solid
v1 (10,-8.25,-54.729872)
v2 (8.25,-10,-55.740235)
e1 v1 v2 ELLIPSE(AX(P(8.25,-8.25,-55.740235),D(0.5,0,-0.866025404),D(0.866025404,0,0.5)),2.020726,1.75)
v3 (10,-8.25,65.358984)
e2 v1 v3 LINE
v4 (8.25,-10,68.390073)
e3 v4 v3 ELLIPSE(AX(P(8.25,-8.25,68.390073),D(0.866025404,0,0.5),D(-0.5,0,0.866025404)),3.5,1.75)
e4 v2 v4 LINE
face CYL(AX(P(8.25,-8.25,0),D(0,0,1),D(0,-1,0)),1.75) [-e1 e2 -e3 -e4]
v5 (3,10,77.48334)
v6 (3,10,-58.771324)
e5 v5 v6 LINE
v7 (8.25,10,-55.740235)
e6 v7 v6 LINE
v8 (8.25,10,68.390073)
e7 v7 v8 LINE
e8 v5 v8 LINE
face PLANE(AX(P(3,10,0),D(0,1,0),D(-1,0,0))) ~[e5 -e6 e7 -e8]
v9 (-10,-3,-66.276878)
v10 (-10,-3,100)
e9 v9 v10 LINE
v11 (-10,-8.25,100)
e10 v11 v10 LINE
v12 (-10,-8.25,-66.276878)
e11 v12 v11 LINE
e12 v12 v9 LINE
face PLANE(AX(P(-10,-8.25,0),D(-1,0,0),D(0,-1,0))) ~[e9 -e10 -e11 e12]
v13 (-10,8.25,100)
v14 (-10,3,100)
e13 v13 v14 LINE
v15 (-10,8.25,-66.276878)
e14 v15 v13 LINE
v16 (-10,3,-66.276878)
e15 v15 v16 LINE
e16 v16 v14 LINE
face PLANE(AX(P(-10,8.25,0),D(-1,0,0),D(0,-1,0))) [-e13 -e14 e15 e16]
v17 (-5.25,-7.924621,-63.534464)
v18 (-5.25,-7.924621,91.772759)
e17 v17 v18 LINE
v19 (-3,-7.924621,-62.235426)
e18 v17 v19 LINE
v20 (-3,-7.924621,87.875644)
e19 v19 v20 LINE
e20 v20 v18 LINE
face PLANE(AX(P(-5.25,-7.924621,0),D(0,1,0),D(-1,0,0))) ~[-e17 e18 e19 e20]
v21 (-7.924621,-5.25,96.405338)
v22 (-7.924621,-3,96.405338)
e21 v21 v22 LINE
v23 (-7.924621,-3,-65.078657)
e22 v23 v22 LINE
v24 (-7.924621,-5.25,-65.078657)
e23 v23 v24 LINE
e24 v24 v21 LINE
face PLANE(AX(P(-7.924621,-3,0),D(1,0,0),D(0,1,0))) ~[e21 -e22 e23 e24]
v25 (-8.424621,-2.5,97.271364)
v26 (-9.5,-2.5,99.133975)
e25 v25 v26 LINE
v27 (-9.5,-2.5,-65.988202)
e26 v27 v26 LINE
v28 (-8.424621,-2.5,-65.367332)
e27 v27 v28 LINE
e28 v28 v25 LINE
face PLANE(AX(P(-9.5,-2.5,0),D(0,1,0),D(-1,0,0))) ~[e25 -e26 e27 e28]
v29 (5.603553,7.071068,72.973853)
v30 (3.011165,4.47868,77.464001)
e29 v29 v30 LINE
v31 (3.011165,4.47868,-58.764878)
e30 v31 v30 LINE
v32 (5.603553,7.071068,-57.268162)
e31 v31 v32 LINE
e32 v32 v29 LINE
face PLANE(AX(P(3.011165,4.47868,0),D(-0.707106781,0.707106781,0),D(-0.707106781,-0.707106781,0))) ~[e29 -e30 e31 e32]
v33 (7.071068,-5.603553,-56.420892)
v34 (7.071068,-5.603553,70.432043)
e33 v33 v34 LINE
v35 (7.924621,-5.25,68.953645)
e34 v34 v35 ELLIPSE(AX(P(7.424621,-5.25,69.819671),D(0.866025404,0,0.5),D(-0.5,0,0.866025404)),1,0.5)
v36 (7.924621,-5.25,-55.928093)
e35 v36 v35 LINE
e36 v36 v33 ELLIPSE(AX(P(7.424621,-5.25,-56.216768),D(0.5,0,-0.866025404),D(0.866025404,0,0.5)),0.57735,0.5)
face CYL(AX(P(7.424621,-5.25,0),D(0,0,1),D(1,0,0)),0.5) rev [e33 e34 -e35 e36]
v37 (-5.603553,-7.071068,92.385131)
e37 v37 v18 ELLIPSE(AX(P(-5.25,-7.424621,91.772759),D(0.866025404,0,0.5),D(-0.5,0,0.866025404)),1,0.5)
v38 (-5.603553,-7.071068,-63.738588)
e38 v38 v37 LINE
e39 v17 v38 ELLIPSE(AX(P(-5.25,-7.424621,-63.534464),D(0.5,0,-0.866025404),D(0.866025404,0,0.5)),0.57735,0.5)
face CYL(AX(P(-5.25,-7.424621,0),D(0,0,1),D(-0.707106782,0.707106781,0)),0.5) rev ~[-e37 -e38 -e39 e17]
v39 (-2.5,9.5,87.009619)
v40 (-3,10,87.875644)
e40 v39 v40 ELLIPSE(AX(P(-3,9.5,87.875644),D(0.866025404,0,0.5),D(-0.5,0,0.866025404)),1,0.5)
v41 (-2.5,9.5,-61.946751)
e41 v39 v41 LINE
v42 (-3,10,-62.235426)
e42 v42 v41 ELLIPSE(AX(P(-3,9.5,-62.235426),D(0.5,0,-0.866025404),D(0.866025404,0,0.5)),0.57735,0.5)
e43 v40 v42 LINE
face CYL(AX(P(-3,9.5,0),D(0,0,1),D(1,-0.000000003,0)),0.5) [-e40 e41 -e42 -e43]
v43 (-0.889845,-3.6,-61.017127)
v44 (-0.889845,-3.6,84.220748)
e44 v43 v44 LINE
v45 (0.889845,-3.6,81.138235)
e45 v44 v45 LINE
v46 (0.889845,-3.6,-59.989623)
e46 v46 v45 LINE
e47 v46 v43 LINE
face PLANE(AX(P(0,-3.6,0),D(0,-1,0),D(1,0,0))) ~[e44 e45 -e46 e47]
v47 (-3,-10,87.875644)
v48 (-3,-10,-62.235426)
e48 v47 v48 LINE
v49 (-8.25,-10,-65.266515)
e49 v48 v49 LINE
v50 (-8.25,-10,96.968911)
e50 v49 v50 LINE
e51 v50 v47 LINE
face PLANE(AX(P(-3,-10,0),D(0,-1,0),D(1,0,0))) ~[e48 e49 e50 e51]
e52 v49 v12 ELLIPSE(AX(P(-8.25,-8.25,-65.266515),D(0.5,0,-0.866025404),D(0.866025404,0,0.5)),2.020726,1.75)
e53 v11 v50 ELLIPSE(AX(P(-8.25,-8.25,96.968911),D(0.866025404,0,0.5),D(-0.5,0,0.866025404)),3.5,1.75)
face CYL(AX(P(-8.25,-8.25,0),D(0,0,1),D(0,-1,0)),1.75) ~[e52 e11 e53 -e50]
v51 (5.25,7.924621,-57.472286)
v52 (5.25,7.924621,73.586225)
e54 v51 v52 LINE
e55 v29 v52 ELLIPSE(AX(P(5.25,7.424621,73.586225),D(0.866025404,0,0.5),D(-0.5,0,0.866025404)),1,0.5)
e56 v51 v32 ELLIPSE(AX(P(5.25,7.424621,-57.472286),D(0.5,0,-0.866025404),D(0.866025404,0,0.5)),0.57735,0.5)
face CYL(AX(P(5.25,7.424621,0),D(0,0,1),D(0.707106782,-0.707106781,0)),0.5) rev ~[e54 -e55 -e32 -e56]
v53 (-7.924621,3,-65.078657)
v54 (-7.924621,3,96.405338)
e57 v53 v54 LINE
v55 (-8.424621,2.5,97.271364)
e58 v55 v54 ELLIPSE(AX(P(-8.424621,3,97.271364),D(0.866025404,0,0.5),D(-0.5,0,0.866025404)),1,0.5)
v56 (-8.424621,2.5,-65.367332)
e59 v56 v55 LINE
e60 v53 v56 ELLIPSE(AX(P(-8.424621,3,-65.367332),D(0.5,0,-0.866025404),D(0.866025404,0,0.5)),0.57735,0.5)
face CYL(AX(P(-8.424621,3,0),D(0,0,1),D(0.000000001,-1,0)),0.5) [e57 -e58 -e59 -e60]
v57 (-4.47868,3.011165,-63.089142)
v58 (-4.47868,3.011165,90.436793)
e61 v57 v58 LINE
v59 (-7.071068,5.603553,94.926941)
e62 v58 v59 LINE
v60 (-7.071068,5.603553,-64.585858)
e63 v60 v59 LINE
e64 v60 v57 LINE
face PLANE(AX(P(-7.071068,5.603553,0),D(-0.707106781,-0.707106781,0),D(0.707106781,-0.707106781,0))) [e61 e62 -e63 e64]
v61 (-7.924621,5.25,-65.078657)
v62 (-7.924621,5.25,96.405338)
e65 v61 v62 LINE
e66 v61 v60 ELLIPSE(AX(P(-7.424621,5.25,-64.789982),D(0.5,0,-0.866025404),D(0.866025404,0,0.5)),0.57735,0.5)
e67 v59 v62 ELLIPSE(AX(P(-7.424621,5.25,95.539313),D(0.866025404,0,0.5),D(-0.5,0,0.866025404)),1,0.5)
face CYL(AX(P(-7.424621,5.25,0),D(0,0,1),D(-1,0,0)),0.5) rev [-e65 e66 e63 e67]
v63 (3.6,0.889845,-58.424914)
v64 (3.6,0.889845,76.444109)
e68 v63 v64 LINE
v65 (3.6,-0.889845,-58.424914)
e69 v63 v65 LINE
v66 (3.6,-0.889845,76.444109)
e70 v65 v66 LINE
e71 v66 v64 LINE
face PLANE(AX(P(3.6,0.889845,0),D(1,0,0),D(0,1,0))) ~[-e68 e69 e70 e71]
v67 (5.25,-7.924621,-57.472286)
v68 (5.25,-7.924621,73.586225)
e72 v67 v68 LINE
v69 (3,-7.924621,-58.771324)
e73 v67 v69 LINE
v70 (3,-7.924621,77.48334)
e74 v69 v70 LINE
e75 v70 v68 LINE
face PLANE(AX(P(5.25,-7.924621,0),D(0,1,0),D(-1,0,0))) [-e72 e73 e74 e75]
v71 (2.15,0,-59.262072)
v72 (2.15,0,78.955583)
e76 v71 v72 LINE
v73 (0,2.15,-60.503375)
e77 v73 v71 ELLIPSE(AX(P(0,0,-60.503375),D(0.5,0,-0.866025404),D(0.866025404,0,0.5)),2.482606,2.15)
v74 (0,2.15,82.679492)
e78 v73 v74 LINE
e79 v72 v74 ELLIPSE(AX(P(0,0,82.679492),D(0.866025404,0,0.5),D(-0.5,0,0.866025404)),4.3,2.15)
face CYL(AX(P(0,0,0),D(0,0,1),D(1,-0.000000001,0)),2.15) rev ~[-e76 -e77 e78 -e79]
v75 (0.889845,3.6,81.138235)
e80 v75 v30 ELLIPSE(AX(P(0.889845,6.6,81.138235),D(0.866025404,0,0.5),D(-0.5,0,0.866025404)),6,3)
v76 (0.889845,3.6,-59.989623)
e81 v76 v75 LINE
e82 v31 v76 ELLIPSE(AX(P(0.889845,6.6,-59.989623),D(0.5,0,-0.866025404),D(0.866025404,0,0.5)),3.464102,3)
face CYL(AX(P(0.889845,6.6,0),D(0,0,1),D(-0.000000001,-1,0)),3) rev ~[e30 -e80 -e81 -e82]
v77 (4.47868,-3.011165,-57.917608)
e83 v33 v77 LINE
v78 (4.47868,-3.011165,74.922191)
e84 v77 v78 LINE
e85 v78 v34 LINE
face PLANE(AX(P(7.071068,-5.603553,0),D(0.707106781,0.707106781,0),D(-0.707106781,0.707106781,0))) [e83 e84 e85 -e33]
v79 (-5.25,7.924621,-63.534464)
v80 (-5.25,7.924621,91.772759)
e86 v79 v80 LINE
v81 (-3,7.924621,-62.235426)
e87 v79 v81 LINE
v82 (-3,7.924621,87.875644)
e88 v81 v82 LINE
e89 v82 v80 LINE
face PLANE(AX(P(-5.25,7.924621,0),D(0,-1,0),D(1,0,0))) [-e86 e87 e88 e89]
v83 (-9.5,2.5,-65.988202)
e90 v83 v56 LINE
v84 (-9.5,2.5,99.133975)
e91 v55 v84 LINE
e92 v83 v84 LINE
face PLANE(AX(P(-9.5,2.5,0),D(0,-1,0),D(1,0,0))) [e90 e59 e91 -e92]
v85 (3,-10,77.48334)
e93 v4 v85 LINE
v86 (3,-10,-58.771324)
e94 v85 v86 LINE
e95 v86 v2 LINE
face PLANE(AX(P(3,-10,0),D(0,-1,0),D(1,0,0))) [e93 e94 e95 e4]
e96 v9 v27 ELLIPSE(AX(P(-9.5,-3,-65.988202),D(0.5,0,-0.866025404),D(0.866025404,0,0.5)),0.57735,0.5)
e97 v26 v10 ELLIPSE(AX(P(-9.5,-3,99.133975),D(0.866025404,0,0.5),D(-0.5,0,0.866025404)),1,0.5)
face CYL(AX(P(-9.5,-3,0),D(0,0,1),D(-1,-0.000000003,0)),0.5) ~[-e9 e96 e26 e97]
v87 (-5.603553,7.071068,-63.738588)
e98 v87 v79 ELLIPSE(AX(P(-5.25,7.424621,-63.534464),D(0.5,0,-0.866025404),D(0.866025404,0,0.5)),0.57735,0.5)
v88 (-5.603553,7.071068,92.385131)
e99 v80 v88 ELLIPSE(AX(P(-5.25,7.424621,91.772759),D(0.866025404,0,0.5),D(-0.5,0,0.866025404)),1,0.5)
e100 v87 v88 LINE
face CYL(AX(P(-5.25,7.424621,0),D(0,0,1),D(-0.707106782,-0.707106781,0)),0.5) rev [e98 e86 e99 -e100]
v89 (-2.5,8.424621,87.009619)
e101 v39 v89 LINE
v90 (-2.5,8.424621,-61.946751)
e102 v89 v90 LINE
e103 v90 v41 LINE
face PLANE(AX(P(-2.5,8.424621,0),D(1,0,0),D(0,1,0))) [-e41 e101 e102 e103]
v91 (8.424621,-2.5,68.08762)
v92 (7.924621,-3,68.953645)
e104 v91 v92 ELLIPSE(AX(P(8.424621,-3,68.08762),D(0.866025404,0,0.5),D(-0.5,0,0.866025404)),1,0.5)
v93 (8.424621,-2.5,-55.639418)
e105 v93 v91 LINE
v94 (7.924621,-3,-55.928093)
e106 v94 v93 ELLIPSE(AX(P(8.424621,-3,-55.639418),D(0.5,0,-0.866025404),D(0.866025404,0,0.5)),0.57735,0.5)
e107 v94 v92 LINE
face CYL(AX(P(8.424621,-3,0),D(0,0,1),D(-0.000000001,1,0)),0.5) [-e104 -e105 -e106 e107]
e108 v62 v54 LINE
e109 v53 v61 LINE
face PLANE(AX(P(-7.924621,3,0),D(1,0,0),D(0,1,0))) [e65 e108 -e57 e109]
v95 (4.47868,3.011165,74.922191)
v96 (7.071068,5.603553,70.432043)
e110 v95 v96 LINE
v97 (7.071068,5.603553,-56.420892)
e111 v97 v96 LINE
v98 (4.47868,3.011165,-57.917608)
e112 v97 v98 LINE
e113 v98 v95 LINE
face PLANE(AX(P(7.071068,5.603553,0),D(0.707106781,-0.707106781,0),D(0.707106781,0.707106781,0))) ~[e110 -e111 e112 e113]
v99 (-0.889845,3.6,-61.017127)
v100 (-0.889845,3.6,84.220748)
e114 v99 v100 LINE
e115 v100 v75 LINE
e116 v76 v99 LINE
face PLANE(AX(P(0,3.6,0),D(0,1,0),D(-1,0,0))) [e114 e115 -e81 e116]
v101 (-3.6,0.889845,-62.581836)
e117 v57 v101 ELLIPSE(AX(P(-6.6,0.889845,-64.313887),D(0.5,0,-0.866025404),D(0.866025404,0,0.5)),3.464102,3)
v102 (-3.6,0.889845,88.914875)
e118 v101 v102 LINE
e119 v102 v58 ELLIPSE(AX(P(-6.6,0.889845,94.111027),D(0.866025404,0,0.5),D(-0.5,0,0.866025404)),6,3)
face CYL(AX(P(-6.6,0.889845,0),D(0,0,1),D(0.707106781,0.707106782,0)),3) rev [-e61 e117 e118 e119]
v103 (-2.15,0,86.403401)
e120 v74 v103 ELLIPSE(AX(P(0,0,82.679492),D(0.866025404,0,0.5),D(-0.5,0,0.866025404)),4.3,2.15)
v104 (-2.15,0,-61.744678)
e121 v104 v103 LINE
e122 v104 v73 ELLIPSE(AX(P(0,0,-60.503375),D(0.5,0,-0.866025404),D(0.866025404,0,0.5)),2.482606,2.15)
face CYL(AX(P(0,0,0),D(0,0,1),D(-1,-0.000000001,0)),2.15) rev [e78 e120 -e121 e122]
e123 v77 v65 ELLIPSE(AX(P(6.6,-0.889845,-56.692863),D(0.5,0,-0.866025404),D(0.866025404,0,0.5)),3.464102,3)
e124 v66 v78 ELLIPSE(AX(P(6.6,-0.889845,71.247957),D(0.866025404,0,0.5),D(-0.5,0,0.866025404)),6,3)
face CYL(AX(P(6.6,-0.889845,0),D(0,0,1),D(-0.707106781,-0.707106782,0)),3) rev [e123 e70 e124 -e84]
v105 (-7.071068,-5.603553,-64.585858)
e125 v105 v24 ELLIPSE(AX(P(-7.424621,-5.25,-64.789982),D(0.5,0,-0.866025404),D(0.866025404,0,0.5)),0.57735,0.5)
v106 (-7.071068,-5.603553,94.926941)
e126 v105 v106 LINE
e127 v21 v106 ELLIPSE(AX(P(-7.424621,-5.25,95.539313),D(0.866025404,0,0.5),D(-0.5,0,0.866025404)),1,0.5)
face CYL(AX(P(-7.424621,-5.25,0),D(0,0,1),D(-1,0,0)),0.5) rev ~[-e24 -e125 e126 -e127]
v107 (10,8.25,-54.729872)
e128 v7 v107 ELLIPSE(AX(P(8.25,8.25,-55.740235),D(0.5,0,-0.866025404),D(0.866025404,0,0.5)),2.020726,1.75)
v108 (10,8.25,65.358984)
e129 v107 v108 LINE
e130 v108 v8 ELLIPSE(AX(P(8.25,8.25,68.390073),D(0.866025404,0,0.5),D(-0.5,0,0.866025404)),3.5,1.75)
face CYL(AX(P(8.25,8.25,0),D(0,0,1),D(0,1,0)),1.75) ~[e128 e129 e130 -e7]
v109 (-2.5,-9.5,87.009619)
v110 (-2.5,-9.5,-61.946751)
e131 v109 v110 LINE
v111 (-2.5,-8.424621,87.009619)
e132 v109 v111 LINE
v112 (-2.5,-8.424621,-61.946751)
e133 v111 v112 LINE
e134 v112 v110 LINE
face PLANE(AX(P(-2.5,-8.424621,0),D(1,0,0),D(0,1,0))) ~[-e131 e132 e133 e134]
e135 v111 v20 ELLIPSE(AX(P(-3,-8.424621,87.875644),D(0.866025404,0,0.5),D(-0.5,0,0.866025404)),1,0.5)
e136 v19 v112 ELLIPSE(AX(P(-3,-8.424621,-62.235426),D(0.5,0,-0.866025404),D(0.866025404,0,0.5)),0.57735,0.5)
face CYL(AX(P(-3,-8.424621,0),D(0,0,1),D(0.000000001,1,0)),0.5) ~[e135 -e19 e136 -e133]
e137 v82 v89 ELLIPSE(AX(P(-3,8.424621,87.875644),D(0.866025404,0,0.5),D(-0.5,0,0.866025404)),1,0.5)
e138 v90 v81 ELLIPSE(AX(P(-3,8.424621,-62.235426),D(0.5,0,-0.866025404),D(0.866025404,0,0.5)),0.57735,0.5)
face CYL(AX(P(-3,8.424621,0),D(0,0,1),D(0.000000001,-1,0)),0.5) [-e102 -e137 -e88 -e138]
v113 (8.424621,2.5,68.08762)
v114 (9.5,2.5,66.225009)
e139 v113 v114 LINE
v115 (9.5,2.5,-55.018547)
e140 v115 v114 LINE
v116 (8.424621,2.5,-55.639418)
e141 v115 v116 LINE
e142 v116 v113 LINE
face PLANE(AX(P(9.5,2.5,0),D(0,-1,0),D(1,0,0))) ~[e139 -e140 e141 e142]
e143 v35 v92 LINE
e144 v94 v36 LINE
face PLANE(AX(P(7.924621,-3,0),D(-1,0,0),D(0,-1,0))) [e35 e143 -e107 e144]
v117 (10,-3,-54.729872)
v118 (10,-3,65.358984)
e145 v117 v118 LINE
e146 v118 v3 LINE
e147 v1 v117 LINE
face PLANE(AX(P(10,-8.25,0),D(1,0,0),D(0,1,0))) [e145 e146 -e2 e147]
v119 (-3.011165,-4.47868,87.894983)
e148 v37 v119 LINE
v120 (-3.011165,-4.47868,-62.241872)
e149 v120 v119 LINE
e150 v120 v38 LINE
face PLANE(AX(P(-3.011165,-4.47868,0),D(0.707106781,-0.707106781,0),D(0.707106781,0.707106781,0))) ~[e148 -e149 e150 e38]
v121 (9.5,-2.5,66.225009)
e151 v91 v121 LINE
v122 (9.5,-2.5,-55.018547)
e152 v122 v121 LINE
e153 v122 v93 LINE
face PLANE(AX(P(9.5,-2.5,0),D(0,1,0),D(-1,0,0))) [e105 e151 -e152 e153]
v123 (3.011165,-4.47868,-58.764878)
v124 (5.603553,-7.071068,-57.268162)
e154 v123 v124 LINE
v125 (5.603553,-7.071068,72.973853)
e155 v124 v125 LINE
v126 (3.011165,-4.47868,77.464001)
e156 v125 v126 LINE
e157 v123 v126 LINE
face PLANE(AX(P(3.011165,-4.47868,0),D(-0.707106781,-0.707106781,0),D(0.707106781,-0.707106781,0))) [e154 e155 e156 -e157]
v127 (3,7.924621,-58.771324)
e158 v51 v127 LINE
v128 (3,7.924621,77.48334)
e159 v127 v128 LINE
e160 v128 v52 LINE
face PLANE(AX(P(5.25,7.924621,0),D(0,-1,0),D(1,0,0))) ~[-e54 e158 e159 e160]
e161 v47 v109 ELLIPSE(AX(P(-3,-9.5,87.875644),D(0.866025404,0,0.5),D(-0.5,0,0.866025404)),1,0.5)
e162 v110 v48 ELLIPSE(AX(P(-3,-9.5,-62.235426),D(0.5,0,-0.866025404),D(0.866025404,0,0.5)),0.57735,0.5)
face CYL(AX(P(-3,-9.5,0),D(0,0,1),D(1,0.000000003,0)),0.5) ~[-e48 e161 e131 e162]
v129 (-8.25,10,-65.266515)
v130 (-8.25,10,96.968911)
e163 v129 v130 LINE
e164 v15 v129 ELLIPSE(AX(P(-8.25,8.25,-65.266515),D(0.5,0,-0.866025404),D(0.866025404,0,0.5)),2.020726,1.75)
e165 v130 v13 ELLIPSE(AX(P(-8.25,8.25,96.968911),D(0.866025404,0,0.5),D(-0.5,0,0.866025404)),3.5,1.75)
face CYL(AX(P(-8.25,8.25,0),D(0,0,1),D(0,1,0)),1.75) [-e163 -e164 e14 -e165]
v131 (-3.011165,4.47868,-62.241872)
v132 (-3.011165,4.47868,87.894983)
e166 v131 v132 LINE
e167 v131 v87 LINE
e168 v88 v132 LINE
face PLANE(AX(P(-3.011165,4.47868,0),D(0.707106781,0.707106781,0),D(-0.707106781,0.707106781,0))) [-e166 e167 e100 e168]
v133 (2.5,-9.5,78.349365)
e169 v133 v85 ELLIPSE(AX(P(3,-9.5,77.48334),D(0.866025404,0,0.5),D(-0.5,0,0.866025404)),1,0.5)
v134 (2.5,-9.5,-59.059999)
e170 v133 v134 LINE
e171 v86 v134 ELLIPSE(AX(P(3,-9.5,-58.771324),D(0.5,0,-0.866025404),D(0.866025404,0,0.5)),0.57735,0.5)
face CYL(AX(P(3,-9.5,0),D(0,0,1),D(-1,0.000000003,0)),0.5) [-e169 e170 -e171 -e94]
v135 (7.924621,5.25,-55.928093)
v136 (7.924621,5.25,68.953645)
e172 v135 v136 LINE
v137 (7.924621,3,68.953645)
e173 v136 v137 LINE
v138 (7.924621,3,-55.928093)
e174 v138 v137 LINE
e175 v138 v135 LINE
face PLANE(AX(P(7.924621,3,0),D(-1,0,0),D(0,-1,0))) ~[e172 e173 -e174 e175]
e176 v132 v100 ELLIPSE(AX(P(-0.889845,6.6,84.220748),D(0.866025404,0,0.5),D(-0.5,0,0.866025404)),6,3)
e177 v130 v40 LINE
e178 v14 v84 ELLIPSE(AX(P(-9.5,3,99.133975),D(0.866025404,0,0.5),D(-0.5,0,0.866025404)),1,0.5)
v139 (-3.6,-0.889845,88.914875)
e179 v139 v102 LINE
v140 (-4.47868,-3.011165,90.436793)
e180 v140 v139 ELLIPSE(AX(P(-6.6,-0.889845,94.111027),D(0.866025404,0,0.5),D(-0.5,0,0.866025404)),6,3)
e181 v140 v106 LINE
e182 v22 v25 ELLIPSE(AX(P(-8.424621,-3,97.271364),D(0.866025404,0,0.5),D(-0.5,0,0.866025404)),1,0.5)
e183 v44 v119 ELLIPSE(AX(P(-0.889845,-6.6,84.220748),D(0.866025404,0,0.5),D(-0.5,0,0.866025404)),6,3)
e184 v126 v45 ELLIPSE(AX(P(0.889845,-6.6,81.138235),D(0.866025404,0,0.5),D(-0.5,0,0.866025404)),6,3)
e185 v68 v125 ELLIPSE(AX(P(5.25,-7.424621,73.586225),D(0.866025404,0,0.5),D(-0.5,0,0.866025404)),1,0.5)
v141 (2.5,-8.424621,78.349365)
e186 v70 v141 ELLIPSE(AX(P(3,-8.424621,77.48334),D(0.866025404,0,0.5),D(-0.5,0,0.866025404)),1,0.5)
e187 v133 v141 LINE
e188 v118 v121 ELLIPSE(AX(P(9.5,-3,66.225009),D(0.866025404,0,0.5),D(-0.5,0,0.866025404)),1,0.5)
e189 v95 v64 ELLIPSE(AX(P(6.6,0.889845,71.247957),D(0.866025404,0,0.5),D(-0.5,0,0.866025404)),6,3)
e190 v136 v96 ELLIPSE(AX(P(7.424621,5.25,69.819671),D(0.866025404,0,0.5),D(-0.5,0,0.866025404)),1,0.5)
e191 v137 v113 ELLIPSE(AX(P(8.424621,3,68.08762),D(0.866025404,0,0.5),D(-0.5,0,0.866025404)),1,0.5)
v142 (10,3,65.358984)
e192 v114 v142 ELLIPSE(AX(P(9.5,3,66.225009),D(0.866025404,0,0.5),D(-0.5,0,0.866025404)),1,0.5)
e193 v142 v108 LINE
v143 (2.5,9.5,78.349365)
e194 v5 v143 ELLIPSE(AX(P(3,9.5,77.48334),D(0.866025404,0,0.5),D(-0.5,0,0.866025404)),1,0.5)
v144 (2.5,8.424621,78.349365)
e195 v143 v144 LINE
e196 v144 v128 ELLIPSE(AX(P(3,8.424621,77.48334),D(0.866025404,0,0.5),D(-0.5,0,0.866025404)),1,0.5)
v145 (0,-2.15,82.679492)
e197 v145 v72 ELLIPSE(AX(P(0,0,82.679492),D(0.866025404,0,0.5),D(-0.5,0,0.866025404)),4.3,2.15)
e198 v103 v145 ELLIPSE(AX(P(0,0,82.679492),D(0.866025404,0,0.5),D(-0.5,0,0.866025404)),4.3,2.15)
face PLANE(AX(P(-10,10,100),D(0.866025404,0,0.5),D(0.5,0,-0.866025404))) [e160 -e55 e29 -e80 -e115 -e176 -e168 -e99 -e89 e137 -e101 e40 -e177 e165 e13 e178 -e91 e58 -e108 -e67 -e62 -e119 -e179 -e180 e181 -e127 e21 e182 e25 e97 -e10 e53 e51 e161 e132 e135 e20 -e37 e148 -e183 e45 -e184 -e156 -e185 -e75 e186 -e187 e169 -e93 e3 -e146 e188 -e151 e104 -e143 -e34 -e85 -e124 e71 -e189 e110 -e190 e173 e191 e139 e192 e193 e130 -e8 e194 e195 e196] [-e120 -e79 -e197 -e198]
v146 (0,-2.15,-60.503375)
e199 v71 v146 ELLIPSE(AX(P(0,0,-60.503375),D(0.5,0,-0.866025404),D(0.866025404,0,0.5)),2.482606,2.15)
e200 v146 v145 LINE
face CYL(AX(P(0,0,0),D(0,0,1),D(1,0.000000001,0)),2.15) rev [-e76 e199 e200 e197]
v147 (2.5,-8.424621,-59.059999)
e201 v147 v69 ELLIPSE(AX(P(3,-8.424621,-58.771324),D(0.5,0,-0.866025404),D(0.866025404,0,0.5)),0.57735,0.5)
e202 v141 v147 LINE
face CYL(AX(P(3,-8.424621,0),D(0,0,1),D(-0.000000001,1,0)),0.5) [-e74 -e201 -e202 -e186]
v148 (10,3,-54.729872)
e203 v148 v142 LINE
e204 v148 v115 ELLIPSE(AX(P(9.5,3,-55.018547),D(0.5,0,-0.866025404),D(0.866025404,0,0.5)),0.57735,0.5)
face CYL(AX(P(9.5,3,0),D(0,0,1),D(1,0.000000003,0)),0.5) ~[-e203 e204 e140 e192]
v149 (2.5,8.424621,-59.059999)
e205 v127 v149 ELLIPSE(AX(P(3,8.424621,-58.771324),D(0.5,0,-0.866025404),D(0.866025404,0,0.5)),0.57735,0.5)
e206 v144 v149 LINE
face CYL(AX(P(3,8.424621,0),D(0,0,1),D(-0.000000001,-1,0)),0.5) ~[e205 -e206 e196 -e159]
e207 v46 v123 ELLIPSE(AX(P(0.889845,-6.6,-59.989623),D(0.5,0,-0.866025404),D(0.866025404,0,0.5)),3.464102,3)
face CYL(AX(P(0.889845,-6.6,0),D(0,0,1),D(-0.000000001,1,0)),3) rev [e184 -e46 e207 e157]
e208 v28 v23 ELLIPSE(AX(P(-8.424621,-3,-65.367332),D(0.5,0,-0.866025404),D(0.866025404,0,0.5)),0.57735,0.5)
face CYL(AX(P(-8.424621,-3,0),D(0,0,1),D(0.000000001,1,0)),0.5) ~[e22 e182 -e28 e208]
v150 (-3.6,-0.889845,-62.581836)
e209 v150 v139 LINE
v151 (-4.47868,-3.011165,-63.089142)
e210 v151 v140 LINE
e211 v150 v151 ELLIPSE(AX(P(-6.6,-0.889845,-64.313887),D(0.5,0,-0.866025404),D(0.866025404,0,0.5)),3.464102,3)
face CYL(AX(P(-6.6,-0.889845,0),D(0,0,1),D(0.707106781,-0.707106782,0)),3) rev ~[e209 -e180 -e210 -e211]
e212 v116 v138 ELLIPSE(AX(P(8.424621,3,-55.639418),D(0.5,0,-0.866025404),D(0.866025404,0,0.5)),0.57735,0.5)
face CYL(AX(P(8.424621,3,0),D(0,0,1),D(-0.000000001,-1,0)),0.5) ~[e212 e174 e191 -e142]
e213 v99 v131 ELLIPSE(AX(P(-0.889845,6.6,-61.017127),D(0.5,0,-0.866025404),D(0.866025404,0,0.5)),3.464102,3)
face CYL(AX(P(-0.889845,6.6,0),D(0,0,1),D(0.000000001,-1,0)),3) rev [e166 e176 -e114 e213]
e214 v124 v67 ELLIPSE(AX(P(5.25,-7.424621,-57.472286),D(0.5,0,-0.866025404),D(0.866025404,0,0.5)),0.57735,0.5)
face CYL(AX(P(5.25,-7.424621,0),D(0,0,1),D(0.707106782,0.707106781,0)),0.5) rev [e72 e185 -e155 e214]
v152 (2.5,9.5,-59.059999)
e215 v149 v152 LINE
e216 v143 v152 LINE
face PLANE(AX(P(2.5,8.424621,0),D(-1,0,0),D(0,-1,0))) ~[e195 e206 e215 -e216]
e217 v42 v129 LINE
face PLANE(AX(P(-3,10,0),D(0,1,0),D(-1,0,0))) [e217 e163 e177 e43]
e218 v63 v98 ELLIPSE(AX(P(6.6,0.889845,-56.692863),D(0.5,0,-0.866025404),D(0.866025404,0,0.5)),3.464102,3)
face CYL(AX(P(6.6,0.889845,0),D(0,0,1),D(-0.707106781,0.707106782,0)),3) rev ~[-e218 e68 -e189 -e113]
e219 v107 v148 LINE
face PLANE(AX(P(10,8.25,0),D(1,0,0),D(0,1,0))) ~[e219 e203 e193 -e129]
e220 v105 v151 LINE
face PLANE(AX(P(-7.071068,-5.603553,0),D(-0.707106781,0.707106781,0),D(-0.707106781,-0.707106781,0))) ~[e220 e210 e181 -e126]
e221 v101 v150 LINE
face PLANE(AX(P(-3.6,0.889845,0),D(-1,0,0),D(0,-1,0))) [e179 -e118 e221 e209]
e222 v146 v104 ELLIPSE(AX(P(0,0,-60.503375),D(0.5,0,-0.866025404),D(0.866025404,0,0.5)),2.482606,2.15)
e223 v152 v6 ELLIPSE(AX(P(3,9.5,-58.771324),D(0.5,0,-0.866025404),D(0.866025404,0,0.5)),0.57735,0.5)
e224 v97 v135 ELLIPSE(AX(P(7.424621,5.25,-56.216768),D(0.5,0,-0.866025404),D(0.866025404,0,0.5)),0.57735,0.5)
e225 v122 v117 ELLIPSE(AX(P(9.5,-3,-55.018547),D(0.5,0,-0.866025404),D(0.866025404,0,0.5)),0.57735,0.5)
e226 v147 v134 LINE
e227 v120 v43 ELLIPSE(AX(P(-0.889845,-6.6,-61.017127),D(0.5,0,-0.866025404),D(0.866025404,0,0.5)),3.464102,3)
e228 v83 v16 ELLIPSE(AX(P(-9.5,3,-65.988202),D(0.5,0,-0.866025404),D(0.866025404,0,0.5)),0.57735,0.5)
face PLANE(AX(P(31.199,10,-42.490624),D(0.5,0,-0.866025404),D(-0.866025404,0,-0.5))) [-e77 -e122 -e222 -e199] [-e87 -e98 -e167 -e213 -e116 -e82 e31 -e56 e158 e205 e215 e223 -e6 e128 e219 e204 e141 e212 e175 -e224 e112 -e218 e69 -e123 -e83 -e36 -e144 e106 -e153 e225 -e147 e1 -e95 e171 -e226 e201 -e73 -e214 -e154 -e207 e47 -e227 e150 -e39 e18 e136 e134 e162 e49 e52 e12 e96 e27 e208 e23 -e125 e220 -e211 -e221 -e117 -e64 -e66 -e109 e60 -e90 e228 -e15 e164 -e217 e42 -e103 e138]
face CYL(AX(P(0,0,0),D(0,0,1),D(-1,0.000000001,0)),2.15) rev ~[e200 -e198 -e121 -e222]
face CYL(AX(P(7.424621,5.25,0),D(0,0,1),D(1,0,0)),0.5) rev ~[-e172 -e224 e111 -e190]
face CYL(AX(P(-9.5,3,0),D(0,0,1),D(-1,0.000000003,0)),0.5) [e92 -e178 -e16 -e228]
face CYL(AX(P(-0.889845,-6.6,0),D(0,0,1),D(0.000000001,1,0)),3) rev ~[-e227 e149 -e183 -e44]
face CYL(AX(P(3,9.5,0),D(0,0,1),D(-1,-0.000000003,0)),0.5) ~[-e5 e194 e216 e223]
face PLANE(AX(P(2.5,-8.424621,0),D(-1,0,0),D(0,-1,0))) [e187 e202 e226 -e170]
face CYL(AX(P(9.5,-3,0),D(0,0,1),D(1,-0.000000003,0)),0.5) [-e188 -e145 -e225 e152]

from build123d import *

# Parameters (mm, degrees)
BOSS_EXTRUDE1_DEPTH = 100
SKETCH5_OUTSIDE_W   = 62.398
SKETCH5_OUTSIDE_H   = 242.398
CUT_EXTRUDE1_DEPTH  = 21


with BuildPart() as part:
    # Sketch4 → Boss-Extrude1 (new body, symmetric)
    with BuildSketch(Plane.XY):
        with BuildLine():
            Line((3, -10), (8.25, -10))
            ThreePointArc((8.25, -10), (9.487436867, -9.487436867), (10, -8.25))
            Line((10, -8.25), (10, -3))
            ThreePointArc((10, -3), (9.853553391, -2.646446609), (9.5, -2.5))
            Line((9.5, -2.5), (8.424621202, -2.5))
            ThreePointArc((8.424621202, -2.5), (8.071067812, -2.646446609), (7.924621202, -3))
            Line((7.924621202, -3), (7.924621202, -5.25))
            ThreePointArc((7.924621202, -5.25), (7.615962919, -5.711939766), (7.071067812, -5.603553391))
            Line((7.071067812, -5.603553391), (4.478679656, -3.011165235))
            ThreePointArc((4.478679656, -3.011165235), (3.828361402, -2.037895189), (3.6, -0.889844892))
            Line((3.6, -0.889844892), (3.6, 0))
            Line((3.6, 0), (2.15, 0))
            ThreePointArc((2.15, 0), (1.52027958, -1.52027958), (0, -2.15))
            Line((0, -2.15), (0, -3.6))
            Line((0, -3.6), (0.889844892, -3.6))
            ThreePointArc((0.889844892, -3.6), (2.037895189, -3.828361402), (3.011165235, -4.478679656))
            Line((3.011165235, -4.478679656), (5.603553391, -7.071067812))
            ThreePointArc((5.603553391, -7.071067812), (5.711939766, -7.615962919), (5.25, -7.924621202))
            Line((5.25, -7.924621202), (3, -7.924621202))
            ThreePointArc((3, -7.924621202), (2.646446609, -8.071067812), (2.5, -8.424621202))
            Line((2.5, -8.424621202), (2.5, -9.5))
            ThreePointArc((2.5, -9.5), (2.646446609, -9.853553391), (3, -10))
        make_face()
    extrude(amount=BOSS_EXTRUDE1_DEPTH, both=True)

    # Mirror1: part across plane


with BuildPart() as part_1:
    add(part.part)
    add(part.part.mirror(Plane(origin=(0, 0, 0), x_dir=(0, 0, 1), z_dir=(1, 0, 0))))

    # Mirror2: part across plane


with BuildPart() as part_2:
    add(part_1.part)
    add(part_1.part.mirror(Plane.ZX))

    # Sketch5 outside → Cut-Extrude1 (cut, through all)
    with BuildSketch(Plane(origin=(0, 10, 0), x_dir=(1, 0, 0), z_dir=(0, 1, 0))):
        Rectangle(SKETCH5_OUTSIDE_W, SKETCH5_OUTSIDE_H)
        Polygon((-10, -100), (62, 24.707658145), (-11.612159322, 67.207658145), align=None, mode=Mode.SUBTRACT)
    extrude(amount=-CUT_EXTRUDE1_DEPTH, mode=Mode.SUBTRACT)


solid = part_2.part
